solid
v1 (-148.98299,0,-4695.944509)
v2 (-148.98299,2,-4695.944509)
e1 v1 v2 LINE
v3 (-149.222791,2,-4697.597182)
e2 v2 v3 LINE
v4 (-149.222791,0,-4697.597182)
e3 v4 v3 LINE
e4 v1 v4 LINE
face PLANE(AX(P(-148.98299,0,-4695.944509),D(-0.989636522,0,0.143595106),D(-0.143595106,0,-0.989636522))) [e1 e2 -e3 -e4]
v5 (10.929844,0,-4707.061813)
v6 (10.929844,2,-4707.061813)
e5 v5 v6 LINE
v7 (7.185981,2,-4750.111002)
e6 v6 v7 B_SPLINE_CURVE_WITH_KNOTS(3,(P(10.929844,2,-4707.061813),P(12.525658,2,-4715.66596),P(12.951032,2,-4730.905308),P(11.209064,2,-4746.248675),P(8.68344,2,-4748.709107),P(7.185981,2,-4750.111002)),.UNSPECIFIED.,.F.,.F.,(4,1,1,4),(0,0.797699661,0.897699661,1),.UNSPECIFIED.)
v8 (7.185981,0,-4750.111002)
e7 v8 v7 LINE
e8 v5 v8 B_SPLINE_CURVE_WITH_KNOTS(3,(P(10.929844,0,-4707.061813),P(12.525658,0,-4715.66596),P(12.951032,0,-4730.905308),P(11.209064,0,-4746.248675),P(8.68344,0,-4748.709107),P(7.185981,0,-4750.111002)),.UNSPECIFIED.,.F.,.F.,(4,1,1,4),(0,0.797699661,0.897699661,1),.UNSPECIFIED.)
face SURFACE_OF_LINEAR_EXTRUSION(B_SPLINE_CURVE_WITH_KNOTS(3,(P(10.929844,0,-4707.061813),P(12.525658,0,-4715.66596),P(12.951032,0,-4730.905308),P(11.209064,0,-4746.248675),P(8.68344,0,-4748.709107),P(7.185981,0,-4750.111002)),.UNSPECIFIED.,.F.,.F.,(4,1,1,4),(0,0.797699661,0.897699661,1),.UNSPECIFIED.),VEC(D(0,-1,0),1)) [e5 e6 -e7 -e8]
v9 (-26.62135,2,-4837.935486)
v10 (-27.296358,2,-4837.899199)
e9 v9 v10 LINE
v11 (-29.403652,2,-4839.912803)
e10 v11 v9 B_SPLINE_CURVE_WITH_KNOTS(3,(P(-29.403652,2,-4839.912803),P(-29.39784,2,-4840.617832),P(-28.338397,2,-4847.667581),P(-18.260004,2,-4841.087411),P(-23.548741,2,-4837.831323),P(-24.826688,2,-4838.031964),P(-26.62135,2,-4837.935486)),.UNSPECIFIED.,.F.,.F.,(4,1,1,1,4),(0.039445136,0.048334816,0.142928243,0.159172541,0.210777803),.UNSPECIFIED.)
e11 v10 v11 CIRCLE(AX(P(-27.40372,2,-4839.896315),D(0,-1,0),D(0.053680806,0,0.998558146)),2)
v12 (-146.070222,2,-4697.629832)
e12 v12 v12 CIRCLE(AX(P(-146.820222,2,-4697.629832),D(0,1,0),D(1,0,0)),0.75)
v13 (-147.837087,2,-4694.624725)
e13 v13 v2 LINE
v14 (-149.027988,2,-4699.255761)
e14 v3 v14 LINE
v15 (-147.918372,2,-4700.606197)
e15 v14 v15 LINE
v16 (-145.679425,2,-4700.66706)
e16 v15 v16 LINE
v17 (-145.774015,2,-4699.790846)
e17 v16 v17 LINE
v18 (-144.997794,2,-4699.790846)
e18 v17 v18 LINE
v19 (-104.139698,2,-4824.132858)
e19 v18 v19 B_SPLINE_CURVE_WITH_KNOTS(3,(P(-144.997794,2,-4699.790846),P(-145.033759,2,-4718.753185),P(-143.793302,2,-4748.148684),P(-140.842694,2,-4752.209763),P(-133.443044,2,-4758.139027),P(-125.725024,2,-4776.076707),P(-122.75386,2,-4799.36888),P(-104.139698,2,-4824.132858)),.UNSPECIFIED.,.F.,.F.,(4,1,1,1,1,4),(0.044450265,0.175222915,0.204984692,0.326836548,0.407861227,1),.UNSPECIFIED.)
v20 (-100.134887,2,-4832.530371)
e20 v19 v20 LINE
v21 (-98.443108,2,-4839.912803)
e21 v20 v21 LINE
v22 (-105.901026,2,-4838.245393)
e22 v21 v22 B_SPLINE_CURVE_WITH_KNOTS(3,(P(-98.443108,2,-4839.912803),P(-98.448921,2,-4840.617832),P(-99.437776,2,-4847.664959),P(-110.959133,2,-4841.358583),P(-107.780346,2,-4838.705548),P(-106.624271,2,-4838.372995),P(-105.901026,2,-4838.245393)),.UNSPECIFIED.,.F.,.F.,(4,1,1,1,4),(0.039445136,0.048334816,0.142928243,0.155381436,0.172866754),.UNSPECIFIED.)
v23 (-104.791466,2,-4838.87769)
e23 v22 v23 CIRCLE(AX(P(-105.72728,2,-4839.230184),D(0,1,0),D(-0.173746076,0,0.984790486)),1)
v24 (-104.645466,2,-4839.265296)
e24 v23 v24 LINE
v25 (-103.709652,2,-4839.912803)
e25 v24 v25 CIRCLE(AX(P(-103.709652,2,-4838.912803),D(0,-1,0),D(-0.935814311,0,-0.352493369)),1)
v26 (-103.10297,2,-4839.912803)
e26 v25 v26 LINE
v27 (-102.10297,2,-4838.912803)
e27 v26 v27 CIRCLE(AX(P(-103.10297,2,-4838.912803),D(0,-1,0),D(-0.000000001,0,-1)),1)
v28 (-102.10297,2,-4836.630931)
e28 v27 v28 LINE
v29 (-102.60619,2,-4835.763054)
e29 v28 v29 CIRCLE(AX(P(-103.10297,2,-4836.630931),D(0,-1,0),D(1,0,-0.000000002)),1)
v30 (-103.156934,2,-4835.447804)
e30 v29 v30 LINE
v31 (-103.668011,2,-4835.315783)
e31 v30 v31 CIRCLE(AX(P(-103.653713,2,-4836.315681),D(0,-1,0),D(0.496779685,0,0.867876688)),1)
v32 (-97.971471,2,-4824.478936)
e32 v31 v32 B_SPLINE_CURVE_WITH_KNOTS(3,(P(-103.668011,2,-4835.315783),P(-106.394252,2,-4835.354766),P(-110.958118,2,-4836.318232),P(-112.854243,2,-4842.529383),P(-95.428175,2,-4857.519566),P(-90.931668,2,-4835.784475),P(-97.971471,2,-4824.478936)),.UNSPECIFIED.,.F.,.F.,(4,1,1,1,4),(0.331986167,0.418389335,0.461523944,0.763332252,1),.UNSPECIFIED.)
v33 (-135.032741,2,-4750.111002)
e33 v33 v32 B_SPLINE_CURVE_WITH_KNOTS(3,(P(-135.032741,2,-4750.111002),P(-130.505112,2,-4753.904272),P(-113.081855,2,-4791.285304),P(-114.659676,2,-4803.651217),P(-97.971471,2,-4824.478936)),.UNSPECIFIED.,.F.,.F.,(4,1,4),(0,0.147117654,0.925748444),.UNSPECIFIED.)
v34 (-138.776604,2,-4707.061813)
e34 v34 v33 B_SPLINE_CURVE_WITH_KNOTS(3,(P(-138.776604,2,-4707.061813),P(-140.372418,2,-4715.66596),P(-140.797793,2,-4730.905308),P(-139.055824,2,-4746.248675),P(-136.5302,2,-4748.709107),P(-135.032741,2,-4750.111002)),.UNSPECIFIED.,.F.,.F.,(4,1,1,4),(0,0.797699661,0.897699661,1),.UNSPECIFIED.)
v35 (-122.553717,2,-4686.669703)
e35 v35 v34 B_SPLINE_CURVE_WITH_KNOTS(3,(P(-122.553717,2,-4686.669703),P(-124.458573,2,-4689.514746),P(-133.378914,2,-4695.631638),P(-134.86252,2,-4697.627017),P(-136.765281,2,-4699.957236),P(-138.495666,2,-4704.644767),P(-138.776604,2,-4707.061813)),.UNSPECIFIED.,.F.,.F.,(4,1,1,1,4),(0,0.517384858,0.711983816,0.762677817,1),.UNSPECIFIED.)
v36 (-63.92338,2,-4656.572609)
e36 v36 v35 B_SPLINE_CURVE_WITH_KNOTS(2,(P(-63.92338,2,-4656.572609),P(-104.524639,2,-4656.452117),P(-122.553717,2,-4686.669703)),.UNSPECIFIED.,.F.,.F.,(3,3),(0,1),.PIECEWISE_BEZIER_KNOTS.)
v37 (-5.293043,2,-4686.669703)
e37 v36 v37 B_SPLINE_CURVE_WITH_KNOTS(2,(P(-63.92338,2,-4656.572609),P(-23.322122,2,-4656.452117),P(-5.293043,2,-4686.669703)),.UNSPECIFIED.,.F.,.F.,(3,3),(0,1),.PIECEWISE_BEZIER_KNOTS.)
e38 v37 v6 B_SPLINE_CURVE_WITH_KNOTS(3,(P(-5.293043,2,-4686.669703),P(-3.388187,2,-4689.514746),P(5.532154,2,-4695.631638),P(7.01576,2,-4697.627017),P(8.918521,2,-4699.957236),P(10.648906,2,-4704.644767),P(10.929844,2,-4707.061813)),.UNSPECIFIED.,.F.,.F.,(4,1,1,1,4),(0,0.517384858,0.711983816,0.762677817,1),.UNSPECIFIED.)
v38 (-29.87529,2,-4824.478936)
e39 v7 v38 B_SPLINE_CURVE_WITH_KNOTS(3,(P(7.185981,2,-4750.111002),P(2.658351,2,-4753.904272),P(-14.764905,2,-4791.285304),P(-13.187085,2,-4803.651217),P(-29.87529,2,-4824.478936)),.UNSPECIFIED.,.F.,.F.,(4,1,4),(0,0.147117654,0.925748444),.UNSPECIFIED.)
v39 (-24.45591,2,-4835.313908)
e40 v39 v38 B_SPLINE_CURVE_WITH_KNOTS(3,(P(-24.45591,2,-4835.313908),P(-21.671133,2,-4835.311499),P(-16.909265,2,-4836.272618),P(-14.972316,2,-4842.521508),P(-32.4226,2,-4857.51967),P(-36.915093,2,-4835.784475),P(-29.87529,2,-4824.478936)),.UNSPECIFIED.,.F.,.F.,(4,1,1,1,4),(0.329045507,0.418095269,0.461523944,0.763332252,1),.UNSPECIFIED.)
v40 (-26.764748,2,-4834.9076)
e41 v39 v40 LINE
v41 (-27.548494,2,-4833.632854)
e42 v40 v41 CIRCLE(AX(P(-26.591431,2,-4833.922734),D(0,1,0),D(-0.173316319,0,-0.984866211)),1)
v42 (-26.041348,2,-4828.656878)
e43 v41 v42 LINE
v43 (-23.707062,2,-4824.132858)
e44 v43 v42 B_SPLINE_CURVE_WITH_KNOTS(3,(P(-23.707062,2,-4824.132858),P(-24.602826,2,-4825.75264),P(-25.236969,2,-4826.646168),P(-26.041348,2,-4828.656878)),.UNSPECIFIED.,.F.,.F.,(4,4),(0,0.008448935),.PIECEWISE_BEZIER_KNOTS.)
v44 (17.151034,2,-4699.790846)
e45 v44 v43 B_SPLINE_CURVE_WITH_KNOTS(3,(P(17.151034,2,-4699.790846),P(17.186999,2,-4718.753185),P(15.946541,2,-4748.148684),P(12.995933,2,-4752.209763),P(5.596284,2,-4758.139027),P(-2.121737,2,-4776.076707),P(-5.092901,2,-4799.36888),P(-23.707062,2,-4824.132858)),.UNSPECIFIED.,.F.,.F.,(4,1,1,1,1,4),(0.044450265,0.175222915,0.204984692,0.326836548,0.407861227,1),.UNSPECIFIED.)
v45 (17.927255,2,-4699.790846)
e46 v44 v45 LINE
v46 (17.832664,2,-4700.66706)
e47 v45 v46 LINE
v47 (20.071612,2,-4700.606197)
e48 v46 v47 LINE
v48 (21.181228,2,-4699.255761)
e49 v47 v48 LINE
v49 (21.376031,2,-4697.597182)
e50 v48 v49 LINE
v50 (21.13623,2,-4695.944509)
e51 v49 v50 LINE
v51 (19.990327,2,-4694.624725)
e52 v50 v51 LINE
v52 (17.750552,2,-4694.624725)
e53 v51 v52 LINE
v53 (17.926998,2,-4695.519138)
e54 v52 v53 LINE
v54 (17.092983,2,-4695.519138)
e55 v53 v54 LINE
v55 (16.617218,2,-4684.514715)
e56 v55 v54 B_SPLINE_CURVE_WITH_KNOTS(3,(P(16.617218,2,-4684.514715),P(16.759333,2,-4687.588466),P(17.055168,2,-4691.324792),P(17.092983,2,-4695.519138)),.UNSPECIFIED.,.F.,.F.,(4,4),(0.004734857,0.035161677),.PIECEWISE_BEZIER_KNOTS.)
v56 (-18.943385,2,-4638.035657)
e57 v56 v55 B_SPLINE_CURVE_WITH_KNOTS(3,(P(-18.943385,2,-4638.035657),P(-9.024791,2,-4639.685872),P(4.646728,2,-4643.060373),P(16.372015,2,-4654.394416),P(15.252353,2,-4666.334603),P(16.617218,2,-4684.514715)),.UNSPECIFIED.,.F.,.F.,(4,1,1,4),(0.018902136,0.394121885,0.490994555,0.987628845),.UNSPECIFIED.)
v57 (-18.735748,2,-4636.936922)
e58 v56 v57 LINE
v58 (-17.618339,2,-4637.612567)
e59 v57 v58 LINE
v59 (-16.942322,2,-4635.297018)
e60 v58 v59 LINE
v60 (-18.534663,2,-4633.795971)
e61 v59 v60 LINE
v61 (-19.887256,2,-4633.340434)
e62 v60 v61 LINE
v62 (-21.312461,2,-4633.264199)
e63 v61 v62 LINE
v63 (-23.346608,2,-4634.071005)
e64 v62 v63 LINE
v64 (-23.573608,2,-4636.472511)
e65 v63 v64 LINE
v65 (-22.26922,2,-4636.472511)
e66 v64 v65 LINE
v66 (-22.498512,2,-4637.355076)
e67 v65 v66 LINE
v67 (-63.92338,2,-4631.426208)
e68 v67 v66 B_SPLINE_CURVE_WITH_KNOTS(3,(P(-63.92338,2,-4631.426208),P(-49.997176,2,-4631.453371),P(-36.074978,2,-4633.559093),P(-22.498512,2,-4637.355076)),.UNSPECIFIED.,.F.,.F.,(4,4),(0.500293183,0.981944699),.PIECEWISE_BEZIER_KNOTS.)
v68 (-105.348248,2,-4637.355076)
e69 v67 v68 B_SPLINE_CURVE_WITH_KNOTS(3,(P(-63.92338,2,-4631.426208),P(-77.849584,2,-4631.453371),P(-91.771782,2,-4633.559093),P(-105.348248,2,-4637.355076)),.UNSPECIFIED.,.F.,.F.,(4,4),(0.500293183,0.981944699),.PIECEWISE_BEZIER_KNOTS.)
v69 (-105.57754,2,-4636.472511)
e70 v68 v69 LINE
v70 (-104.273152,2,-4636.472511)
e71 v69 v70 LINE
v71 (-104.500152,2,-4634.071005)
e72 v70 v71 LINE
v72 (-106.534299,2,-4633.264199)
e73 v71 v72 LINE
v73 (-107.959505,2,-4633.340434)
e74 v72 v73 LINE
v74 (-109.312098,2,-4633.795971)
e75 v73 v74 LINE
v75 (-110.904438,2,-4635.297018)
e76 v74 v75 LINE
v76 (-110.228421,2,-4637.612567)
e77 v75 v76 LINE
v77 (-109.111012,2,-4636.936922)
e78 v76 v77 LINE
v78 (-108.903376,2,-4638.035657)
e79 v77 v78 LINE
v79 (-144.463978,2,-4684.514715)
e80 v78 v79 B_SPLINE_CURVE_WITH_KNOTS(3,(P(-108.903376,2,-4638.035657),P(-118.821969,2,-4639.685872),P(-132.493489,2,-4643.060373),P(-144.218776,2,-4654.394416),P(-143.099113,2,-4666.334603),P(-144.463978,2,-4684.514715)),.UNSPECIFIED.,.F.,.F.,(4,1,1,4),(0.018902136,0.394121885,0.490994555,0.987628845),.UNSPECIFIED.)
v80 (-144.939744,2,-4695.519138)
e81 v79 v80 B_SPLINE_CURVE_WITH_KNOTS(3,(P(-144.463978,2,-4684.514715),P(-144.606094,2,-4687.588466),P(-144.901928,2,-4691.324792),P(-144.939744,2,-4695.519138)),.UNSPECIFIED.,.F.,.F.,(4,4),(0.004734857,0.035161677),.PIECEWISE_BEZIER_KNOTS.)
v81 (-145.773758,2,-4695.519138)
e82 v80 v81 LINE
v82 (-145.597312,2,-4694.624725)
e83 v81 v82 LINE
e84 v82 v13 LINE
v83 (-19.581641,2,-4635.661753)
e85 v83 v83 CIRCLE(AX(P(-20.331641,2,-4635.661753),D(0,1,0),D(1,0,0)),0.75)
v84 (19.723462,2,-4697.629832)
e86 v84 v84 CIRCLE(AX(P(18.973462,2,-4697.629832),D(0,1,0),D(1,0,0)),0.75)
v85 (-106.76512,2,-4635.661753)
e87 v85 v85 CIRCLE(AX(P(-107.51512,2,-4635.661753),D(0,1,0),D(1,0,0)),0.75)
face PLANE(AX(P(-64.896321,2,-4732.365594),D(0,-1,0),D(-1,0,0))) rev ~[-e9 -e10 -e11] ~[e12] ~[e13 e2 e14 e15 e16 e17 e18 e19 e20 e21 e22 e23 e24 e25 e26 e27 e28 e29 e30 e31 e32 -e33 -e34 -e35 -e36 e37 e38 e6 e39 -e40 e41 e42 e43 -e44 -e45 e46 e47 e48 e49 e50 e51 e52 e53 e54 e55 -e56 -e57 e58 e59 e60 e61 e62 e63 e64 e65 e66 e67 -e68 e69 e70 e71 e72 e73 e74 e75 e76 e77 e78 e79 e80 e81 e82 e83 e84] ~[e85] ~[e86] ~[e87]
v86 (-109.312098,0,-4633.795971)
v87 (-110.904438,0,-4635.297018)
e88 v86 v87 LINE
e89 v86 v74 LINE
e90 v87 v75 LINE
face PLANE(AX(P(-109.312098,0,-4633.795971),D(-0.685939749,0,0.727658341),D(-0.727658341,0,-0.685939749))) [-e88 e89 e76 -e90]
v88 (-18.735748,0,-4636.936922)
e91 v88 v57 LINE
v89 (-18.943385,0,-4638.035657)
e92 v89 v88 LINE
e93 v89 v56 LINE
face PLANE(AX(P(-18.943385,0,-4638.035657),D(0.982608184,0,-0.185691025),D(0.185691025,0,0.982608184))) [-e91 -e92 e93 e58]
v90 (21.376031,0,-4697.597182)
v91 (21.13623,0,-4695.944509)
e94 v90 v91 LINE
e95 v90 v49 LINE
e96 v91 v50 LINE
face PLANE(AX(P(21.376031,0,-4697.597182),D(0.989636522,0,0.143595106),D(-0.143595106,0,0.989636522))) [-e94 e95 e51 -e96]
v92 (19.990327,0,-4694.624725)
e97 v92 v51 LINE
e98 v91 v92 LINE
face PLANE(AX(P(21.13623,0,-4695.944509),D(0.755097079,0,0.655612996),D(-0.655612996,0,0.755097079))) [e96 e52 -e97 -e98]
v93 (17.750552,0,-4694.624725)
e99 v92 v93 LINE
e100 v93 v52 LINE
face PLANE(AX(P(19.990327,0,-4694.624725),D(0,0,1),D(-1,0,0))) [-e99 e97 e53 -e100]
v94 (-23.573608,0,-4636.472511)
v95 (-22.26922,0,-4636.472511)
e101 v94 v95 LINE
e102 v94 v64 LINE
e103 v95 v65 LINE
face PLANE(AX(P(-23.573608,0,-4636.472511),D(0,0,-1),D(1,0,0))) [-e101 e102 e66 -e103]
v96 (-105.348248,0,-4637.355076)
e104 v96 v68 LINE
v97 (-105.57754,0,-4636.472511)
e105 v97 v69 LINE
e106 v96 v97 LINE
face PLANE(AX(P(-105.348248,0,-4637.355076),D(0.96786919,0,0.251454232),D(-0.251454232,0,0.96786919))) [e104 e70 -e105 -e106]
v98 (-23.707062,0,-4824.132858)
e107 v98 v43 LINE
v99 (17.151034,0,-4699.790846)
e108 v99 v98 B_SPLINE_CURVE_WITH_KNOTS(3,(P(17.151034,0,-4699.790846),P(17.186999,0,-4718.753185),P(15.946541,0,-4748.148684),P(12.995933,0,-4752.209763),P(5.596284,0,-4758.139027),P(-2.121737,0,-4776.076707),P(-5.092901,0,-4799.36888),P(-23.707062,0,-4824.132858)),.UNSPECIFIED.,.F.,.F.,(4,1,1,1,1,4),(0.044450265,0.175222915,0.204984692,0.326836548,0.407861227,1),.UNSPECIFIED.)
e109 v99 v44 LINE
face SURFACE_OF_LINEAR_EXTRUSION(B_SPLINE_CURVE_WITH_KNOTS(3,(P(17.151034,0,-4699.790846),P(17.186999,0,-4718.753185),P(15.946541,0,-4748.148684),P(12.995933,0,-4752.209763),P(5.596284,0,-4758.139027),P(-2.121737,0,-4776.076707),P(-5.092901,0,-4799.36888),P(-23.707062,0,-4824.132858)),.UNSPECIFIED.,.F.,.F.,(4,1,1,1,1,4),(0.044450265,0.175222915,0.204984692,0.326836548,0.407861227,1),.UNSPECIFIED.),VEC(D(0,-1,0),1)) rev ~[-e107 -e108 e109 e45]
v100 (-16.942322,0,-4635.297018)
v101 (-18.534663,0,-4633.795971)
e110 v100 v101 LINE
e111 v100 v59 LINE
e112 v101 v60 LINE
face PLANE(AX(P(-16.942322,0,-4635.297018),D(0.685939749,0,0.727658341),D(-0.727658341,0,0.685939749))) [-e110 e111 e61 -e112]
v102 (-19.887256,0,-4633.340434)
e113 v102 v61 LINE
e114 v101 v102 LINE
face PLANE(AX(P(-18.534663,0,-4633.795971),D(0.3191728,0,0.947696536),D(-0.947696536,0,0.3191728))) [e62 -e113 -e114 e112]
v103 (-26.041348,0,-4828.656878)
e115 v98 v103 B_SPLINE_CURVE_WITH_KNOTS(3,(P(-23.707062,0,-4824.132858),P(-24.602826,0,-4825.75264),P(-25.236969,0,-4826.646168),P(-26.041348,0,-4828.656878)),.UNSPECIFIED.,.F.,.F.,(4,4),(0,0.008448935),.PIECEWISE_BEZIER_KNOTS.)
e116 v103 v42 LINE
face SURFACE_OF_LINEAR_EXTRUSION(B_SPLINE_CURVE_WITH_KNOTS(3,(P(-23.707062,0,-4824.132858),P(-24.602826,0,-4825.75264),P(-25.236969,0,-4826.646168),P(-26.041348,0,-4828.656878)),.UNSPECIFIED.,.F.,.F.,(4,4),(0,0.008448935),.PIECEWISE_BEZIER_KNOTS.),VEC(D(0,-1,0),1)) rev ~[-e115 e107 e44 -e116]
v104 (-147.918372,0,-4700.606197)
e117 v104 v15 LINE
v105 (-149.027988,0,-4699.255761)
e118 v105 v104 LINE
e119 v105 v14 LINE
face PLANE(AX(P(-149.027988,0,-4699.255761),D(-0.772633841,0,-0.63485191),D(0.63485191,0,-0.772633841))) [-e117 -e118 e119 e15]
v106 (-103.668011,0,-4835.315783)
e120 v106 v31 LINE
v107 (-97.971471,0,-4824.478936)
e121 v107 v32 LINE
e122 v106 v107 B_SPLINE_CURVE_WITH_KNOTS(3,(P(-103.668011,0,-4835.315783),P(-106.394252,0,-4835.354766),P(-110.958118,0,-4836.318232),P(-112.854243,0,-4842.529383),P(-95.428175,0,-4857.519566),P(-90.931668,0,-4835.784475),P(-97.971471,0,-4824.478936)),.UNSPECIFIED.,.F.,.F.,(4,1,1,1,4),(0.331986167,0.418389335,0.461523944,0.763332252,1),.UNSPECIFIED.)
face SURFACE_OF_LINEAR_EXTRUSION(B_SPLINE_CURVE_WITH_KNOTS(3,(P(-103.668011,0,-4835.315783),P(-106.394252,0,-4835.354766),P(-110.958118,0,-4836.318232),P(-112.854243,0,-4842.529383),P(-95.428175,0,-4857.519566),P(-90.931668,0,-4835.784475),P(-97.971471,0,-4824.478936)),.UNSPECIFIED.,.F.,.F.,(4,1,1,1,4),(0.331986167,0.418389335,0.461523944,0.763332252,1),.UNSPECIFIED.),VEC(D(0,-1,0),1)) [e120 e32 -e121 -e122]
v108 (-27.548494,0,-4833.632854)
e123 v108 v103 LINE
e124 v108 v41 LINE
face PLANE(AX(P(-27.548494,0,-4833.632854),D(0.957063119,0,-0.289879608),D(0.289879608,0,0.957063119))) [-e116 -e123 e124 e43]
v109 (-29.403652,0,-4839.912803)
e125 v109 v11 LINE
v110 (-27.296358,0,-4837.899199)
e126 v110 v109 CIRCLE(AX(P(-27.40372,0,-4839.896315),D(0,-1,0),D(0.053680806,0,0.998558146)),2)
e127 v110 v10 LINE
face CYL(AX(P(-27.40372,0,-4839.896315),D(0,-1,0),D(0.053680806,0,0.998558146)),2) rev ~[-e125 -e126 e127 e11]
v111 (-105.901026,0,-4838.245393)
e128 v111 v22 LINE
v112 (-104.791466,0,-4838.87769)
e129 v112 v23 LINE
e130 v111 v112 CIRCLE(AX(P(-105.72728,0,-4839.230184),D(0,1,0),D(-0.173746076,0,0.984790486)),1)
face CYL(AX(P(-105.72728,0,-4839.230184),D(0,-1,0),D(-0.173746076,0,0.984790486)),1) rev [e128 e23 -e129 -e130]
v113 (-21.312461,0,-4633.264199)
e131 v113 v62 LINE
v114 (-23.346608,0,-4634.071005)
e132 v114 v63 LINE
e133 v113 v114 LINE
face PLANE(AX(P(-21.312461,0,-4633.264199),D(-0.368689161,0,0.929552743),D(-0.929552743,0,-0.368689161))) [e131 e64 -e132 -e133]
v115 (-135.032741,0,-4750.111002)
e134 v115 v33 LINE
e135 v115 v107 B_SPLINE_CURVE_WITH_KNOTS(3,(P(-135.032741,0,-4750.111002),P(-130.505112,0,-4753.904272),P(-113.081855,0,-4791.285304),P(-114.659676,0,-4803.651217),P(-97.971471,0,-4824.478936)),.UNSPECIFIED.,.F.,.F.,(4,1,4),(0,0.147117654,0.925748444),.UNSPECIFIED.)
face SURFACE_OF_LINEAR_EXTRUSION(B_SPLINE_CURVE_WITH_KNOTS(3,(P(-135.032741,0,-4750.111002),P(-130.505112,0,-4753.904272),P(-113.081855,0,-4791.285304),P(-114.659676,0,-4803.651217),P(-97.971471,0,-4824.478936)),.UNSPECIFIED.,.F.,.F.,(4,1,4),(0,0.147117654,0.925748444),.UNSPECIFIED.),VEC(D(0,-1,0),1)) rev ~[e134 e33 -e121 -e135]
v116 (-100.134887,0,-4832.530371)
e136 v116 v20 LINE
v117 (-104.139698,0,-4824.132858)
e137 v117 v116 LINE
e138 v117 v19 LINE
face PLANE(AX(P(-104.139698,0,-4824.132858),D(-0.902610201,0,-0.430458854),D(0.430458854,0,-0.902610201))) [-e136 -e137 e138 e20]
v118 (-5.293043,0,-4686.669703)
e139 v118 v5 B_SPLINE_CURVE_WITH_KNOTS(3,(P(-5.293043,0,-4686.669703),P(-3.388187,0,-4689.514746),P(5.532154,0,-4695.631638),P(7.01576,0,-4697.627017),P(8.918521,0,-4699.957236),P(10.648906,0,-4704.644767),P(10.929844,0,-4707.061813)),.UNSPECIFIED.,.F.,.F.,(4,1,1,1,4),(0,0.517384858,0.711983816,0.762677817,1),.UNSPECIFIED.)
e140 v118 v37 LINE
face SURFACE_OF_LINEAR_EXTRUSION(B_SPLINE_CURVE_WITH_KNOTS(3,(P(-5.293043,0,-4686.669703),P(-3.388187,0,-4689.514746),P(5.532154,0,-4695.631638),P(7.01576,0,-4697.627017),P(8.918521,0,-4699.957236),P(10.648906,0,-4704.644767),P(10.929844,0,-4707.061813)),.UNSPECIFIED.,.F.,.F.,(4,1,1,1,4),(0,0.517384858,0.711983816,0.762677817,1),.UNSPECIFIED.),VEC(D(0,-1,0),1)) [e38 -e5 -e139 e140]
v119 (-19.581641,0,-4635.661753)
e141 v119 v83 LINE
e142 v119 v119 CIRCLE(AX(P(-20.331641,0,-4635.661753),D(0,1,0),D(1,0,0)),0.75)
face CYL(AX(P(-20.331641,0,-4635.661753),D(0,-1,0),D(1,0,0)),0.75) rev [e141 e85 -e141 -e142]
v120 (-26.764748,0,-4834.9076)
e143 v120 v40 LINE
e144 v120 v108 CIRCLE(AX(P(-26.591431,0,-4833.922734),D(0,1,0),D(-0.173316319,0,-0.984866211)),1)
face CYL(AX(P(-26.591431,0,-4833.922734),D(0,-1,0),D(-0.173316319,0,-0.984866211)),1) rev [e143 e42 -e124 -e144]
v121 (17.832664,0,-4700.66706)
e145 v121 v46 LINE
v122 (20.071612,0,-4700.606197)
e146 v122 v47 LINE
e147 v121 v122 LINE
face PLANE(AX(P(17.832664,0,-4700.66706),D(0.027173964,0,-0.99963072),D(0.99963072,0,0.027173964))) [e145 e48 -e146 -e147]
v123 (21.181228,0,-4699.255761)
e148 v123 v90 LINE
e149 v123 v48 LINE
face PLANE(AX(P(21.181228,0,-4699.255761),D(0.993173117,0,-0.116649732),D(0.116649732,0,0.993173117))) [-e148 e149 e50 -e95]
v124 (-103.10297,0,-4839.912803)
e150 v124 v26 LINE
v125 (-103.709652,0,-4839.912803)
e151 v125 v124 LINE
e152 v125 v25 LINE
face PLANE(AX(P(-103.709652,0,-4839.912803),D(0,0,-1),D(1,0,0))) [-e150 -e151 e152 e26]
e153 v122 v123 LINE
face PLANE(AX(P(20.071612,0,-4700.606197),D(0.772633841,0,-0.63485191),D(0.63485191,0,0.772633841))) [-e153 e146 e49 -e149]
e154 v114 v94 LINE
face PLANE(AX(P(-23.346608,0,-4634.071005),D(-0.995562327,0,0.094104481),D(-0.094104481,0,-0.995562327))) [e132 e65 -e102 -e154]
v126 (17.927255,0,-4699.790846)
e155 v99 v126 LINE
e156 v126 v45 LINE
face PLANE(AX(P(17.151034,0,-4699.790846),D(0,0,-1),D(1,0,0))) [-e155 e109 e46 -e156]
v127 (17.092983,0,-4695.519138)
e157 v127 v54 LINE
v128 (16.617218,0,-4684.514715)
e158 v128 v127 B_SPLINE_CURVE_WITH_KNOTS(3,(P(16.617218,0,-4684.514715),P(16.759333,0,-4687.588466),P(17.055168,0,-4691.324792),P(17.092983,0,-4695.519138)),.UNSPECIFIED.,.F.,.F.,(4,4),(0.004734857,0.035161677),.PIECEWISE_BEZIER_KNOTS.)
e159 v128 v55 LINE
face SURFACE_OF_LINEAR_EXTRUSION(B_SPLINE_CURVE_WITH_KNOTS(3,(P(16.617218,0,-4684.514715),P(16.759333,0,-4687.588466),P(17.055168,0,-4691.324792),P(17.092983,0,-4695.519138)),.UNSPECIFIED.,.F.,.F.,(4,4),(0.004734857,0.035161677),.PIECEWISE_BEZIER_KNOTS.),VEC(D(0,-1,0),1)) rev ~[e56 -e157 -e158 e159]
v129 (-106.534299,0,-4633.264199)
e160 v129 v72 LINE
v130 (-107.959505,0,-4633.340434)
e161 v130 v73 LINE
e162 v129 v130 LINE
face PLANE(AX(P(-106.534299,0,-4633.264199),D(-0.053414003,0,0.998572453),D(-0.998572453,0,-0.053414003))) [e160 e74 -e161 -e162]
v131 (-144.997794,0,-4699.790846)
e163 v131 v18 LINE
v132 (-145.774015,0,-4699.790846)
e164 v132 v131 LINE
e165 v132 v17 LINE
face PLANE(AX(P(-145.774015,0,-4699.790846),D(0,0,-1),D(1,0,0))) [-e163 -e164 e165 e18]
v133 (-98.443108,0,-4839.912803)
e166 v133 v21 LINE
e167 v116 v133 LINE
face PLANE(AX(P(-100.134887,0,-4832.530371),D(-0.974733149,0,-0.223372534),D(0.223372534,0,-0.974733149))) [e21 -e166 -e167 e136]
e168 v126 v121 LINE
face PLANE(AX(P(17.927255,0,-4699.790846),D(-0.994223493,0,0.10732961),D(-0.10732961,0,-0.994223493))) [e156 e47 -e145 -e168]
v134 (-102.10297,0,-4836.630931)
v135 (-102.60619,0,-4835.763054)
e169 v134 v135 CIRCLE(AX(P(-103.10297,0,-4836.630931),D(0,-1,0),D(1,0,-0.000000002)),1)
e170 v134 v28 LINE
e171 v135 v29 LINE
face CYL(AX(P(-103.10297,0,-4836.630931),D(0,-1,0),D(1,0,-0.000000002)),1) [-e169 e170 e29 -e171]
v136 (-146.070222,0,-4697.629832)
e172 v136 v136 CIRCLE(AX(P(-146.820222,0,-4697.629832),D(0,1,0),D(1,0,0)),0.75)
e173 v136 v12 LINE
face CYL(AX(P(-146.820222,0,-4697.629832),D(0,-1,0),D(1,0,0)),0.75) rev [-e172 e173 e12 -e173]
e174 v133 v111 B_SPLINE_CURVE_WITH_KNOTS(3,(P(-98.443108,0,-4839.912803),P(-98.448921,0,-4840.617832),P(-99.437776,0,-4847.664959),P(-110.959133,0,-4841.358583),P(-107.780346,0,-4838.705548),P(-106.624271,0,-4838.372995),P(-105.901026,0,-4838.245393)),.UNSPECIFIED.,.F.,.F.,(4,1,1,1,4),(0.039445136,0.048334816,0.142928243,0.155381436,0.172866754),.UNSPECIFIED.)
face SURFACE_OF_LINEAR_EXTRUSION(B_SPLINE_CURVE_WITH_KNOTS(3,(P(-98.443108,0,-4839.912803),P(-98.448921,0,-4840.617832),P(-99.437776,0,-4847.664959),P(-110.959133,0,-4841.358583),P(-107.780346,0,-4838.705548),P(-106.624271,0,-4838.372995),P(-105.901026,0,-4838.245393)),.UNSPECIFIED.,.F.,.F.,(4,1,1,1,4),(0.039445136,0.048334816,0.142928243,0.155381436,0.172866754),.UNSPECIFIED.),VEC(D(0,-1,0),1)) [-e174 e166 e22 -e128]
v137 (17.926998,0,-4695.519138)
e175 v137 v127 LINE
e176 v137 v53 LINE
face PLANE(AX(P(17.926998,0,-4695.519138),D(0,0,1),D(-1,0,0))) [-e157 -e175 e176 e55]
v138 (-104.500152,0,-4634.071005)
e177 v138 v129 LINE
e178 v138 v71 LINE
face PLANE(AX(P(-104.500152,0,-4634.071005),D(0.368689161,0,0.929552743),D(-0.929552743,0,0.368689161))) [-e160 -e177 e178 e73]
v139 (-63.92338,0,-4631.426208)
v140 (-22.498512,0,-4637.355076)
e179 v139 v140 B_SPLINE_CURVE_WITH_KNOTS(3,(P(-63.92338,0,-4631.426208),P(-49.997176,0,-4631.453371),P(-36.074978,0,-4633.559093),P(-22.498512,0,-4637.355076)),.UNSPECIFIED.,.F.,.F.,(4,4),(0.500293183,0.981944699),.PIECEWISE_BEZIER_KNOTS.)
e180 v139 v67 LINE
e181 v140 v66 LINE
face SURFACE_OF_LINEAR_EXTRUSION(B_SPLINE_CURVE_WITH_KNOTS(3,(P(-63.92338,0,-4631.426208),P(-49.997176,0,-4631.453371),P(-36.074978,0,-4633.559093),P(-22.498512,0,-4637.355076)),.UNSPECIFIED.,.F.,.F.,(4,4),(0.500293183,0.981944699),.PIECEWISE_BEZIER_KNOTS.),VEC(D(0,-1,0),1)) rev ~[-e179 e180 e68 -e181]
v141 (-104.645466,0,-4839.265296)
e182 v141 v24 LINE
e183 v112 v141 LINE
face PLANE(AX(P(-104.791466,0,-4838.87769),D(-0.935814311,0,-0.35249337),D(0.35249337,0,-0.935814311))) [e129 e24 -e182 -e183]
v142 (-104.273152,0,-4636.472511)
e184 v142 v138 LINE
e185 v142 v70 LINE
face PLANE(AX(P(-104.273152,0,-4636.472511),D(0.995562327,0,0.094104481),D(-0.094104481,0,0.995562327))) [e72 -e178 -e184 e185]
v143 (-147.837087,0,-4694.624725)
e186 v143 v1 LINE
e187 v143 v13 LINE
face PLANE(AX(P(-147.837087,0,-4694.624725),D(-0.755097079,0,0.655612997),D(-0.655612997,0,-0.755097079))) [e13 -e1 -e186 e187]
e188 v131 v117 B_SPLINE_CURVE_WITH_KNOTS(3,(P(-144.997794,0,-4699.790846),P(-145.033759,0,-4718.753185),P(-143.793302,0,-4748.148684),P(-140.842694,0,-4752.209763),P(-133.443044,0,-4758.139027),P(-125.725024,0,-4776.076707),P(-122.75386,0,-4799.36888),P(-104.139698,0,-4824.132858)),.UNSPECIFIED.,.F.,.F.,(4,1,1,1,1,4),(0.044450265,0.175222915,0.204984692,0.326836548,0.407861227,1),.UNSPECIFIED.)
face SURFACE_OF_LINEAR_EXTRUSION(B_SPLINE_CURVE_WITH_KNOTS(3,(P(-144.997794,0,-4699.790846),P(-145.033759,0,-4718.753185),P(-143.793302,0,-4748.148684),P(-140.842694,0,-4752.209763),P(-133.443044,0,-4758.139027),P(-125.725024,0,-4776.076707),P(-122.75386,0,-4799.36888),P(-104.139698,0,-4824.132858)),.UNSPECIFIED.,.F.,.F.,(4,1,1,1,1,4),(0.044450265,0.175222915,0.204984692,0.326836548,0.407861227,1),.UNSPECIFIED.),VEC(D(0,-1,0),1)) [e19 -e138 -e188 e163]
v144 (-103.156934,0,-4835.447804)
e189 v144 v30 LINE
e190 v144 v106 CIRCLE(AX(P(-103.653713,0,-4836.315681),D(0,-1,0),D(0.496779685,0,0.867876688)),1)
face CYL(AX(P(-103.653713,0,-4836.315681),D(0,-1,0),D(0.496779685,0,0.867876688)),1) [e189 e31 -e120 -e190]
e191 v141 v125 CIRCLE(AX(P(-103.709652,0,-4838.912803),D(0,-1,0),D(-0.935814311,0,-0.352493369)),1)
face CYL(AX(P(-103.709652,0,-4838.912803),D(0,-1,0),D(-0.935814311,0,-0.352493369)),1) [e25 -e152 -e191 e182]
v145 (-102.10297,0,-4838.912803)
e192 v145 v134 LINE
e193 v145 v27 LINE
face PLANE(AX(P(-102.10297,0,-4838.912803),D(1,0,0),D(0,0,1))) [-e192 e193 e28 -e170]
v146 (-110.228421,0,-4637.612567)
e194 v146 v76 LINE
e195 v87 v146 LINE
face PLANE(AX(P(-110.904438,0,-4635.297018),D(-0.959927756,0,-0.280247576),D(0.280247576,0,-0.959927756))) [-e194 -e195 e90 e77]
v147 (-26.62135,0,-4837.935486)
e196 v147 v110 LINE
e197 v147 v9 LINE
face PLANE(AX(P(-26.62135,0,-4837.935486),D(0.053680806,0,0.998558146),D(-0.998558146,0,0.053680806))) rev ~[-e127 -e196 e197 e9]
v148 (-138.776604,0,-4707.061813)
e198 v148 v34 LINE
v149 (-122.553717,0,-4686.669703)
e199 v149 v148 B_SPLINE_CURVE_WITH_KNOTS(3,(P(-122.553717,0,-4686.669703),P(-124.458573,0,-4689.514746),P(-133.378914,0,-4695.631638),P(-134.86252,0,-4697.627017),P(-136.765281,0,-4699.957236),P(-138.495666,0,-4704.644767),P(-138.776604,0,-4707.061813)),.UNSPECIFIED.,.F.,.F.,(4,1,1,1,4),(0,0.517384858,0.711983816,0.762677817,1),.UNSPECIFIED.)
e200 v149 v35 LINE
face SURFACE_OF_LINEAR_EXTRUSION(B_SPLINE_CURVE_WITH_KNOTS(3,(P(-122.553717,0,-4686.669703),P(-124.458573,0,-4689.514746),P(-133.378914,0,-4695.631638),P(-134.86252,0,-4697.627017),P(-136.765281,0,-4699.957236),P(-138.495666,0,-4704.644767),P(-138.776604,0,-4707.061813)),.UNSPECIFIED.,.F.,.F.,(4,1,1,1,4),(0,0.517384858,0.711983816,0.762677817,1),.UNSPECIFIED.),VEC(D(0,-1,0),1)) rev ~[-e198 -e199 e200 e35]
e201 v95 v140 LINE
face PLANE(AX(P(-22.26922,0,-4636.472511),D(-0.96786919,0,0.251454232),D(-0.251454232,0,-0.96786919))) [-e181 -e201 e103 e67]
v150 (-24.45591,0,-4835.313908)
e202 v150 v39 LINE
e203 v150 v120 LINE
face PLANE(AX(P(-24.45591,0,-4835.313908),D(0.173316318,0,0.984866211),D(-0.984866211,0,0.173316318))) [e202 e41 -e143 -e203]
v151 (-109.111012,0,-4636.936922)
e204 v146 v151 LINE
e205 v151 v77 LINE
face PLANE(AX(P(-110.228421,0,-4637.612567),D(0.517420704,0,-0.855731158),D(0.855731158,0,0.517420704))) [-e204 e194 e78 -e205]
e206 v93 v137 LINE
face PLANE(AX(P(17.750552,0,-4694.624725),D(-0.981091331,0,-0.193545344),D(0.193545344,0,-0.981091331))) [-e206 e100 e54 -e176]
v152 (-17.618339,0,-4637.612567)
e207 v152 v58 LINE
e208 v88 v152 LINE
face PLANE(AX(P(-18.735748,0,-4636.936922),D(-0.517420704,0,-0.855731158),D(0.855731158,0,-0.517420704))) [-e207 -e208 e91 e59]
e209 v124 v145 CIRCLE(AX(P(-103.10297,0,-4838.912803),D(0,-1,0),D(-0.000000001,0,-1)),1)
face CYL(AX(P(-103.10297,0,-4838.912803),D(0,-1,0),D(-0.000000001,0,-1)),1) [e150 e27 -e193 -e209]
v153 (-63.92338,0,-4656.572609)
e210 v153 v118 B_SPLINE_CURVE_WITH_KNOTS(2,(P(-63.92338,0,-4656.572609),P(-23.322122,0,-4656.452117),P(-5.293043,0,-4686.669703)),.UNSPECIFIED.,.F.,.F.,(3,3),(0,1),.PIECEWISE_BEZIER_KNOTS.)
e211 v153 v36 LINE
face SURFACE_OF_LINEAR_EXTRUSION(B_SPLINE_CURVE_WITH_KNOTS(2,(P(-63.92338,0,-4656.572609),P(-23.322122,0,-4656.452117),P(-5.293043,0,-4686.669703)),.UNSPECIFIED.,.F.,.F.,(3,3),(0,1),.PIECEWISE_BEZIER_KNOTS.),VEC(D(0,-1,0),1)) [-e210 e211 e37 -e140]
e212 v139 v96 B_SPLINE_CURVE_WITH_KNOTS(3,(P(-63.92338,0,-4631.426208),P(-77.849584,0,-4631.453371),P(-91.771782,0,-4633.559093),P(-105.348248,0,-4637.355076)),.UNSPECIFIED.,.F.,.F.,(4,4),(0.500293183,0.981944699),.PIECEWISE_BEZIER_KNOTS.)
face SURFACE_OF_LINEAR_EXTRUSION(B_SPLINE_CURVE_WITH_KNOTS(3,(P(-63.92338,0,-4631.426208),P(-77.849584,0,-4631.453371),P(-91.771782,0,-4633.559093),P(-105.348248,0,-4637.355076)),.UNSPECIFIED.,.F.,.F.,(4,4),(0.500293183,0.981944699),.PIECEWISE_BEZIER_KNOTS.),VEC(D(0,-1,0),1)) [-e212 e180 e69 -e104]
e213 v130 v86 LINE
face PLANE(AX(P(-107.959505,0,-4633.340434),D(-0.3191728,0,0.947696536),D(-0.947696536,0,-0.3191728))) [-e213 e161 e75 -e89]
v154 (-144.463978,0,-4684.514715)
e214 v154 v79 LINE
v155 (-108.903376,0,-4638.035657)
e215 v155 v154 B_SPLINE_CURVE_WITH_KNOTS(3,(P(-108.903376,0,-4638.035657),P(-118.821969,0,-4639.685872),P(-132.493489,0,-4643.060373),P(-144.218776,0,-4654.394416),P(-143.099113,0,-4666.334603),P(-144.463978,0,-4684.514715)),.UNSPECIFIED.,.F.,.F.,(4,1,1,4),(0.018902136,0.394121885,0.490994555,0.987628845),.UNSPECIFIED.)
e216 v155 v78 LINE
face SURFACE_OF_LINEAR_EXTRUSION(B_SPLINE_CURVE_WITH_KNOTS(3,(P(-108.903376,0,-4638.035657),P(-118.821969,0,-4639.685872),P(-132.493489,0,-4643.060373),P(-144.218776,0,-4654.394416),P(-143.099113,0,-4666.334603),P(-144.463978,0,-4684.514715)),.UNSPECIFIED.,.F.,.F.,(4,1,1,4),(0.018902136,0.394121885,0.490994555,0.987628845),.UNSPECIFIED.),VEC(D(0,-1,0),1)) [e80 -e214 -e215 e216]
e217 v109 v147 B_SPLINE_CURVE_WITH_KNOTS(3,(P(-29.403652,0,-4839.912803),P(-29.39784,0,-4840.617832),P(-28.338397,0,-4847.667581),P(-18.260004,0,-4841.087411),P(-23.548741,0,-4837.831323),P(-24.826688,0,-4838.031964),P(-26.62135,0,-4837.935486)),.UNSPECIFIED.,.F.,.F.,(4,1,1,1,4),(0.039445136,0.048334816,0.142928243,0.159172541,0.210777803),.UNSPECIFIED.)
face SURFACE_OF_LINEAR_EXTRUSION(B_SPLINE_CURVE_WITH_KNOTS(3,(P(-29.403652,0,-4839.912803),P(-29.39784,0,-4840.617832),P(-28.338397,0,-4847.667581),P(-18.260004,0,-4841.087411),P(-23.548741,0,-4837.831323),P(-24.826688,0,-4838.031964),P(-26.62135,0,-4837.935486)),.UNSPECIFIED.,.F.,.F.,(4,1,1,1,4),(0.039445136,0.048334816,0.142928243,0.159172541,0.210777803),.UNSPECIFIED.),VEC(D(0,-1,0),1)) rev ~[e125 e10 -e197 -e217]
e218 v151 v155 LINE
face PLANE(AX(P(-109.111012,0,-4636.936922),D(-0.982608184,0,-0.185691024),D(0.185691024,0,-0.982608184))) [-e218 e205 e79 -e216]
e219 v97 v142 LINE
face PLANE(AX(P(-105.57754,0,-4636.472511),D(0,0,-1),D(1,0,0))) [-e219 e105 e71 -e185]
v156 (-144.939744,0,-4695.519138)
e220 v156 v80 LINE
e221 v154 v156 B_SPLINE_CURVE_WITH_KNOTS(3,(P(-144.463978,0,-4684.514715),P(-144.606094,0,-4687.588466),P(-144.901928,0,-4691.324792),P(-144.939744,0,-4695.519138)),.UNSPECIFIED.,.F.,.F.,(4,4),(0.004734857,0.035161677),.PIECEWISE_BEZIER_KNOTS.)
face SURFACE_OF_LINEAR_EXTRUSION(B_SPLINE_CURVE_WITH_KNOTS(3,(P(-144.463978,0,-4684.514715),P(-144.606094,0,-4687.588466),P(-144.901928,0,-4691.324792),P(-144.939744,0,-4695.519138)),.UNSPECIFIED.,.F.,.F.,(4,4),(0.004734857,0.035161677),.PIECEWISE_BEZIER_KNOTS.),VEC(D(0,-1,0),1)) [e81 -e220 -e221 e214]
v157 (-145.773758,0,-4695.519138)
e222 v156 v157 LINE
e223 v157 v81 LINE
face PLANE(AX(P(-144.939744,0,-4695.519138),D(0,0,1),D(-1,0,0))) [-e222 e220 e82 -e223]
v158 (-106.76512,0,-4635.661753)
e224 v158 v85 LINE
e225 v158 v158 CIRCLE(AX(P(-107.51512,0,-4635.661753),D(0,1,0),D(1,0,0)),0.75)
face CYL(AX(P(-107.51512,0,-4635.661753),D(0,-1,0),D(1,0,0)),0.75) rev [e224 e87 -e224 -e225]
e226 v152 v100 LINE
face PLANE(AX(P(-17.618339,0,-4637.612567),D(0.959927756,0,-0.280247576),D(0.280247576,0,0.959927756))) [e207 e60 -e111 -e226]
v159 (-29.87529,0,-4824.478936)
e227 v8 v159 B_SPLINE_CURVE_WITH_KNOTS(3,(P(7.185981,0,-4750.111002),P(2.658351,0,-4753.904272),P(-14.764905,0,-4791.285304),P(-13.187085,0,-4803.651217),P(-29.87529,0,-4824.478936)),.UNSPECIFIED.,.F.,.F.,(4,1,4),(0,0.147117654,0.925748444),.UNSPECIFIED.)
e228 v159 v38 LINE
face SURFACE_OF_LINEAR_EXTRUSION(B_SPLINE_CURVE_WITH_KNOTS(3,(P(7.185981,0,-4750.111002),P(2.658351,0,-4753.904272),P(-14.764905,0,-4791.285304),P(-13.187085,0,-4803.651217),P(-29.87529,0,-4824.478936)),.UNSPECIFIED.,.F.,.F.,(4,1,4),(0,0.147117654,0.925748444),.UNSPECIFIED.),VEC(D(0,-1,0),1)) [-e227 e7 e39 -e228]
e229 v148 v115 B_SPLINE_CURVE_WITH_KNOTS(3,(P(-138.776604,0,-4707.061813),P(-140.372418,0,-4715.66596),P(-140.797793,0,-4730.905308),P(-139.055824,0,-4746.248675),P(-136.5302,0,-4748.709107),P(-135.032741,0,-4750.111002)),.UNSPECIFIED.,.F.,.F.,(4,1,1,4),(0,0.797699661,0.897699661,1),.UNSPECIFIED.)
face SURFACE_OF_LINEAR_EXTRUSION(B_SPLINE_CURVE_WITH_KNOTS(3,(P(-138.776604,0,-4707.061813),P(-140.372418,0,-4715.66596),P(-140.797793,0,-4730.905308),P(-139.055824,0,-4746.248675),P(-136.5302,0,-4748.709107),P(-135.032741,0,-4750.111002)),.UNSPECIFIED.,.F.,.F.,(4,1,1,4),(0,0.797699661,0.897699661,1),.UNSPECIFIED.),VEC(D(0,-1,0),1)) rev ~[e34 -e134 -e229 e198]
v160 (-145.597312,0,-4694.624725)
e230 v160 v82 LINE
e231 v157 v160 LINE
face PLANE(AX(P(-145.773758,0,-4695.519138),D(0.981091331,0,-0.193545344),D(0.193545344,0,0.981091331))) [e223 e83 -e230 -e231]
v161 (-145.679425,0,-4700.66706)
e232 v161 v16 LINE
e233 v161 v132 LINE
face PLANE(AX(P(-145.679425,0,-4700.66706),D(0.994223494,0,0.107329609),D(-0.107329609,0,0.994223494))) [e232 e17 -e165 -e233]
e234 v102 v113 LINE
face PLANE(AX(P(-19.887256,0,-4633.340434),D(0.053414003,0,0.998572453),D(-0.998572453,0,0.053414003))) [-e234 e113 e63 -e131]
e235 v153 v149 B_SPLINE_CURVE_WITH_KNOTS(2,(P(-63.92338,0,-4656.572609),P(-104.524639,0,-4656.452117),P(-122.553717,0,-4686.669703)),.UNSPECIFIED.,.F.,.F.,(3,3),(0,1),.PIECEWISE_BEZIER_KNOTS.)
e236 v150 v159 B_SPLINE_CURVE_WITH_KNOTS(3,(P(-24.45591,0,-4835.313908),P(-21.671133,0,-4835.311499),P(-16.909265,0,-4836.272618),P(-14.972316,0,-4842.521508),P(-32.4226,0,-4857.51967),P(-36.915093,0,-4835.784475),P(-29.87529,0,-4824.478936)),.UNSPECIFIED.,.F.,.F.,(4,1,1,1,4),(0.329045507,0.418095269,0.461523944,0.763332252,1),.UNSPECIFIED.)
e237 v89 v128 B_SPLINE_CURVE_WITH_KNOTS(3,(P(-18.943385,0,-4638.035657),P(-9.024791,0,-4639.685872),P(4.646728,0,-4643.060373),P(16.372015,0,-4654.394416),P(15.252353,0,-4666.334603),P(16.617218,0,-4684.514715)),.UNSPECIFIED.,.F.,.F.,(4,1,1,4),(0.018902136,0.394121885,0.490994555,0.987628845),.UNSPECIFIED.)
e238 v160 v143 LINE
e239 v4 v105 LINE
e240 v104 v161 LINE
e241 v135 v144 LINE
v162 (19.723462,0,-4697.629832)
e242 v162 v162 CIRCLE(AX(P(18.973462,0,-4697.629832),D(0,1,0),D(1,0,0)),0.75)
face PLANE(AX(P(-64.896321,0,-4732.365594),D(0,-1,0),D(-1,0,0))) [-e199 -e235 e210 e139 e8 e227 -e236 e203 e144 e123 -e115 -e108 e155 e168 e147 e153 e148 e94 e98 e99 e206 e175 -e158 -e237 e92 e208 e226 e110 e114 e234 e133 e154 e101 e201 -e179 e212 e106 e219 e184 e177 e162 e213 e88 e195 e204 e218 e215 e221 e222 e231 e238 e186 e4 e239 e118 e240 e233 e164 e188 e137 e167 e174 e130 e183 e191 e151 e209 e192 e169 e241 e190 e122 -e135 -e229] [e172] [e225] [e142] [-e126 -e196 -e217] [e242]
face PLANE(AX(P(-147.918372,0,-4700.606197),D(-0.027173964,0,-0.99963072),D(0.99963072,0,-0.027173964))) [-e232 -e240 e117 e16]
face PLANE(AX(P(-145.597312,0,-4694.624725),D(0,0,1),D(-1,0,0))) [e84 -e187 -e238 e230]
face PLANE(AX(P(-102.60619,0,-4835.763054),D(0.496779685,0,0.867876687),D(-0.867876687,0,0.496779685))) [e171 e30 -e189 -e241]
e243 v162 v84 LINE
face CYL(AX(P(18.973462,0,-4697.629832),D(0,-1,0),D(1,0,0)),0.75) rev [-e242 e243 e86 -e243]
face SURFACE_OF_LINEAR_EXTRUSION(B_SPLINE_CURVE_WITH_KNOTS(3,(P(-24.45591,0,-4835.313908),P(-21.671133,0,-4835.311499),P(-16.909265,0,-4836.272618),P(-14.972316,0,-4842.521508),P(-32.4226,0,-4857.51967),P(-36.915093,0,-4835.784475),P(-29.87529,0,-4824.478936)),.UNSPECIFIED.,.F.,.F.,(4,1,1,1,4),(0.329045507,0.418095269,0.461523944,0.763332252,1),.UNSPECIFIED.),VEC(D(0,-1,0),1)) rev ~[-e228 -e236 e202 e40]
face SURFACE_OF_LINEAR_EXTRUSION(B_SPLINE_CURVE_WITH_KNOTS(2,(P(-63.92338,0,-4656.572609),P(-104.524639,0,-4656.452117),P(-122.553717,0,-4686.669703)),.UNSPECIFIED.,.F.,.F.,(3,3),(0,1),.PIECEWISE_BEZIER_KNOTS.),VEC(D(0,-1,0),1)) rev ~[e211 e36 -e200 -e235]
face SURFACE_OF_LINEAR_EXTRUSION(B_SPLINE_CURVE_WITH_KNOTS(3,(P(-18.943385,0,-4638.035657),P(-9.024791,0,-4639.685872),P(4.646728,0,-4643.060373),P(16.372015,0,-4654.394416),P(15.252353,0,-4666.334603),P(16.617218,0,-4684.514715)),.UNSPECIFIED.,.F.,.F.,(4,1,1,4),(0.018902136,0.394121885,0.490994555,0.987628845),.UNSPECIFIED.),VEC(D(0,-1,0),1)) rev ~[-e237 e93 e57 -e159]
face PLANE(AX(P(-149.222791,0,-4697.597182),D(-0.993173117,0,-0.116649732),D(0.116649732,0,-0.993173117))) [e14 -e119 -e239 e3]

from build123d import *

# Parameters (mm, degrees)
SKETCH2_R           = 0.75
BOSS_EXTRUDE2_DEPTH = 2


with BuildPart() as part:
    # Sketch2 → Boss-Extrude2 (new body)
    with BuildSketch(Plane(origin=(0, 0, 0), x_dir=(1, 0, 0), z_dir=(0, 1, 0))):
        with BuildLine():
            Line((-16.94232243, 4635.297018365), (-18.534662591, 4633.795971308))
            Line((-18.534662591, 4633.795971308), (-19.887255597, 4633.340434244))
            Line((-19.887255597, 4633.340434244), (-21.312460887, 4633.264199495))
            Line((-21.312460887, 4633.264199495), (-23.346608072, 4634.07100473))
            Line((-23.346608072, 4634.07100473), (-23.573607956, 4636.472511323))
            Line((-23.573607956, 4636.472511323), (-22.26922003, 4636.472511323))
            Line((-22.26922003, 4636.472511323), (-22.498511996, 4637.355076027))
            add(Edge.make_bspline(
                [(-63.92338013, 4631.426207785), (-49.997175973, 4631.453371402), (-36.074978393, 4633.559092847), (-22.498511996, 4637.355076027)],
                knots=[0.500293183, 0.500293183, 0.500293183, 0.500293183, 0.981944699, 0.981944699, 0.981944699, 0.981944699], degree=3))
            add(Edge.make_bspline(
                [(-63.92338013, 4631.426207785), (-77.849584288, 4631.453371402), (-91.771781867, 4633.559092847), (-105.348248264, 4637.355076027)],
                knots=[0.500293183, 0.500293183, 0.500293183, 0.500293183, 0.981944699, 0.981944699, 0.981944699, 0.981944699], degree=3))
            Line((-105.348248264, 4637.355076027), (-105.57754023, 4636.472511323))
            Line((-105.57754023, 4636.472511323), (-104.273152305, 4636.472511323))
            Line((-104.273152305, 4636.472511323), (-104.500152189, 4634.07100473))
            Line((-104.500152189, 4634.07100473), (-106.534299374, 4633.264199495))
            Line((-106.534299374, 4633.264199495), (-107.959504664, 4633.340434244))
            Line((-107.959504664, 4633.340434244), (-109.31209767, 4633.795971308))
            Line((-109.31209767, 4633.795971308), (-110.904437831, 4635.297018365))
            Line((-110.904437831, 4635.297018365), (-110.228421491, 4637.612566847))
            Line((-110.228421491, 4637.612566847), (-109.111012106, 4636.936921529))
            Line((-109.111012106, 4636.936921529), (-108.903375625, 4638.035656948))
            add(Edge.make_bspline(
                [(-108.903375625, 4638.035656948), (-118.821969125, 4639.685871765), (-132.493488743, 4643.060373116), (-144.218775593, 4654.394416396), (-143.099113193, 4666.334603474), (-144.46397827, 4684.514714632)],
                knots=[0.018902136, 0.018902136, 0.018902136, 0.018902136, 0.394121885, 0.490994555, 0.987628845, 0.987628845, 0.987628845, 0.987628845], degree=3))
            add(Edge.make_bspline(
                [(-144.46397827, 4684.514714632), (-144.606093665, 4687.588466409), (-144.901928293, 4691.324791696), (-144.93974364, 4695.519138342)],
                knots=[0.004734857, 0.004734857, 0.004734857, 0.004734857, 0.035161677, 0.035161677, 0.035161677, 0.035161677], degree=3))
            Line((-144.93974364, 4695.519138342), (-145.773758332, 4695.519138342))
            Line((-145.773758332, 4695.519138342), (-145.597312449, 4694.624725063))
            Line((-145.597312449, 4694.624725063), (-147.837087324, 4694.624725063))
            Line((-147.837087324, 4694.624725063), (-148.98298998, 4695.944509376))
            Line((-148.98298998, 4695.944509376), (-149.222790895, 4697.597182293))
            Line((-149.222790895, 4697.597182293), (-149.027988208, 4699.255761252))
            Line((-149.027988208, 4699.255761252), (-147.918372484, 4700.606196913))
            Line((-147.918372484, 4700.606196913), (-145.679424713, 4700.667060475))
            Line((-145.679424713, 4700.667060475), (-145.774014845, 4699.790846236))
            Line((-145.774014845, 4699.790846236), (-144.997793977, 4699.790846236))
            add(Edge.make_bspline(
                [(-144.997793977, 4699.790846236), (-145.033758852, 4718.753185432), (-143.793301684, 4748.148684218), (-140.842693737, 4752.209763426), (-133.443044132, 4758.139026966), (-125.725023595, 4776.076706667), (-122.75385973, 4799.368879532), (-104.139698199, 4824.132858298)],
                knots=[0.044450265, 0.044450265, 0.044450265, 0.044450265, 0.175222915, 0.204984692, 0.326836548, 0.407861227, 1, 1, 1, 1], degree=3))
            Line((-104.139698199, 4824.132858298), (-100.134886925, 4832.530370573))
            Line((-100.134886925, 4832.530370573), (-98.443108393, 4839.91280291))
            add(Edge.make_bspline(
                [(-98.443108393, 4839.91280291), (-98.448920719, 4840.617831915), (-99.437775516, 4847.664959355), (-110.959133419, 4841.358583438), (-107.780345645, 4838.705548355), (-106.624271481, 4838.372995162), (-105.90102593, 4838.245393324)],
                knots=[0.039445136, 0.039445136, 0.039445136, 0.039445136, 0.048334816, 0.142928243, 0.155381436, 0.172866754, 0.172866754, 0.172866754, 0.172866754], degree=3))
            ThreePointArc((-105.90102593, 4838.245393324), (-105.232166827, 4838.361355236), (-104.791465543, 4838.87769044))
            Line((-104.791465543, 4838.87769044), (-104.645465971, 4839.26529628))
            ThreePointArc((-104.645465971, 4839.26529628), (-104.278644907, 4839.735145105), (-103.70965166, 4839.91280291))
            Line((-103.70965166, 4839.91280291), (-103.102970113, 4839.91280291))
            ThreePointArc((-103.102970113, 4839.91280291), (-102.395863331, 4839.619909691), (-102.102970113, 4838.91280291))
            Line((-102.102970113, 4838.91280291), (-102.102970113, 4836.630930716))
            ThreePointArc((-102.102970113, 4836.630930716), (-102.237874833, 4836.129323143), (-102.606190428, 4835.763054029))
            Line((-102.606190428, 4835.763054029), (-103.156933754, 4835.447804063))
            ThreePointArc((-103.156933754, 4835.447804063), (-103.403604203, 4835.347463125), (-103.668011051, 4835.315782966))
            add(Edge.make_bspline(
                [(-103.668011051, 4835.315782966), (-106.394251846, 4835.354765686), (-110.958117582, 4836.318232066), (-112.854242874, 4842.52938332), (-95.428175463, 4857.519566026), (-90.931667557, 4835.784474822), (-97.971470578, 4824.478936283)],
                knots=[0.331986167, 0.331986167, 0.331986167, 0.331986167, 0.418389335, 0.461523944, 0.763332252, 1, 1, 1, 1], degree=3))
            add(Edge.make_bspline(
                [(-135.032740768, 4750.111001922), (-130.50511155, 4753.904272028), (-113.081855026, 4791.28530442), (-114.659675591, 4803.651217025), (-97.971470578, 4824.478936283)],
                knots=[0, 0, 0, 0, 0.147117654, 0.925748444, 0.925748444, 0.925748444, 0.925748444], degree=3))
            add(Edge.make_bspline(
                [(-138.776603849, 4707.061813065), (-140.372417965, 4715.665959829), (-140.797792532, 4730.905308146), (-139.055824108, 4746.24867545), (-136.530200286, 4748.70910668), (-135.032740768, 4750.111001922)],
                knots=[0, 0, 0, 0, 0.797699661, 0.897699661, 1, 1, 1, 1], degree=3))
            add(Edge.make_bspline(
                [(-122.553716851, 4686.669702846), (-124.458572981, 4689.514746254), (-133.378914312, 4695.631638467), (-134.862520268, 4697.627016687), (-136.765281392, 4699.957235784), (-138.495666225, 4704.644766972), (-138.776603849, 4707.061813065)],
                knots=[0, 0, 0, 0, 0.517384858, 0.711983816, 0.762677817, 1, 1, 1, 1], degree=3))
            add(Edge.make_bspline(
                [(-63.92338013, 4656.572608608), (-104.524638736, 4656.452117341), (-122.553716851, 4686.669702846)],
                knots=[0, 0, 0, 1, 1, 1], degree=2))
            add(Edge.make_bspline(
                [(-63.92338013, 4656.572608608), (-23.322121525, 4656.452117341), (-5.29304341, 4686.669702846)],
                knots=[0, 0, 0, 1, 1, 1], degree=2))
            add(Edge.make_bspline(
                [(-5.29304341, 4686.669702846), (-3.38818728, 4689.514746254), (5.532154051, 4695.631638467), (7.015760007, 4697.627016687), (8.918521131, 4699.957235784), (10.648905964, 4704.644766972), (10.929843589, 4707.061813065)],
                knots=[0, 0, 0, 0, 0.517384858, 0.711983816, 0.762677817, 1, 1, 1, 1], degree=3))
            add(Edge.make_bspline(
                [(10.929843589, 4707.061813065), (12.525657705, 4715.665959829), (12.951032272, 4730.905308146), (11.209063847, 4746.24867545), (8.683440025, 4748.70910668), (7.185980508, 4750.111001922)],
                knots=[0, 0, 0, 0, 0.797699661, 0.897699661, 1, 1, 1, 1], degree=3))
            add(Edge.make_bspline(
                [(7.185980508, 4750.111001922), (2.658351289, 4753.904272028), (-14.764905235, 4791.28530442), (-13.18708467, 4803.651217025), (-29.875289683, 4824.478936283)],
                knots=[0, 0, 0, 0, 0.147117654, 0.925748444, 0.925748444, 0.925748444, 0.925748444], degree=3))
            add(Edge.make_bspline(
                [(-24.45590975, 4835.313908206), (-21.671132761, 4835.311498884), (-16.909265089, 4836.272618376), (-14.972315663, 4842.521508455), (-32.422600191, 4857.519670275), (-36.915092703, 4835.784474822), (-29.875289683, 4824.478936283)],
                knots=[0.329045507, 0.329045507, 0.329045507, 0.329045507, 0.418095269, 0.461523944, 0.763332252, 1, 1, 1, 1], degree=3))
            Line((-24.45590975, 4835.313908206), (-26.764747559, 4834.907599954))
            ThreePointArc((-26.764747559, 4834.907599954), (-27.443301913, 4834.446485933), (-27.548494359, 4833.632854135))
            Line((-27.548494359, 4833.632854135), (-26.0413483, 4828.656878353))
            add(Edge.make_bspline(
                [(-23.707062062, 4824.132858298), (-24.602825604, 4825.752639792), (-25.236969166, 4826.64616849), (-26.0413483, 4828.656878353)],
                knots=[0, 0, 0, 0, 0.008448935, 0.008448935, 0.008448935, 0.008448935], degree=3))
            add(Edge.make_bspline(
                [(17.151033717, 4699.790846236), (17.186998591, 4718.753185432), (15.946541424, 4748.148684218), (12.995933477, 4752.209763426), (5.596283872, 4758.139026966), (-2.121736665, 4776.076706667), (-5.092900531, 4799.368879532), (-23.707062062, 4824.132858298)],
                knots=[0.044450265, 0.044450265, 0.044450265, 0.044450265, 0.175222915, 0.204984692, 0.326836548, 0.407861227, 1, 1, 1, 1], degree=3))
            Line((17.151033717, 4699.790846236), (17.927254585, 4699.790846236))
            Line((17.927254585, 4699.790846236), (17.832664452, 4700.667060475))
            Line((17.832664452, 4700.667060475), (20.071612224, 4700.606196913))
            Line((20.071612224, 4700.606196913), (21.181227948, 4699.255761252))
            Line((21.181227948, 4699.255761252), (21.376030634, 4697.597182293))
            Line((21.376030634, 4697.597182293), (21.136229719, 4695.944509376))
            Line((21.136229719, 4695.944509376), (19.990327064, 4694.624725063))
            Line((19.990327064, 4694.624725063), (17.750552188, 4694.624725063))
            Line((17.750552188, 4694.624725063), (17.926998071, 4695.519138342))
            Line((17.926998071, 4695.519138342), (17.092983379, 4695.519138342))
            add(Edge.make_bspline(
                [(16.61721801, 4684.514714632), (16.759333405, 4687.588466409), (17.055168032, 4691.324791696), (17.092983379, 4695.519138342)],
                knots=[0.004734857, 0.004734857, 0.004734857, 0.004734857, 0.035161677, 0.035161677, 0.035161677, 0.035161677], degree=3))
            add(Edge.make_bspline(
                [(-18.943384636, 4638.035656948), (-9.024791136, 4639.685871765), (4.646728482, 4643.060373116), (16.372015333, 4654.394416396), (15.252352932, 4666.334603474), (16.61721801, 4684.514714632)],
                knots=[0.018902136, 0.018902136, 0.018902136, 0.018902136, 0.394121885, 0.490994555, 0.987628845, 0.987628845, 0.987628845, 0.987628845], degree=3))
            Line((-18.943384636, 4638.035656948), (-18.735748154, 4636.936921529))
            Line((-18.735748154, 4636.936921529), (-17.61833877, 4637.612566847))
            Line((-17.61833877, 4637.612566847), (-16.94232243, 4635.297018365))
        make_face()
        with Locations((-20.331640643, 4635.661753265)):
            Circle(SKETCH2_R, mode=Mode.SUBTRACT)
        with Locations((18.97346222, 4697.629831976)):
            Circle(SKETCH2_R, mode=Mode.SUBTRACT)
        with Locations((-146.82022248, 4697.629831976)):
            Circle(SKETCH2_R, mode=Mode.SUBTRACT)
        with Locations((-107.515119617, 4635.661753265)):
            Circle(SKETCH2_R, mode=Mode.SUBTRACT)
        with BuildLine():
            Line((-26.621350229, 4837.935486282), (-27.296358217, 4837.899198988))
            ThreePointArc((-27.296358217, 4837.899198988), (-28.785423811, 4838.450322851), (-29.403651867, 4839.91280291))
            add(Edge.make_bspline(
                [(-29.403651867, 4839.91280291), (-29.397839541, 4840.617831915), (-28.338396622, 4847.667580663), (-18.260003508, 4841.087411447), (-23.548740991, 4837.831323077), (-24.826688271, 4838.031964289), (-26.621350229, 4837.935486282)],
                knots=[0.039445136, 0.039445136, 0.039445136, 0.039445136, 0.048334816, 0.142928243, 0.159172541, 0.210777803, 0.210777803, 0.210777803, 0.210777803], degree=3))
        make_face(mode=Mode.SUBTRACT)
    extrude(amount=BOSS_EXTRUDE2_DEPTH)


solid = part.part
